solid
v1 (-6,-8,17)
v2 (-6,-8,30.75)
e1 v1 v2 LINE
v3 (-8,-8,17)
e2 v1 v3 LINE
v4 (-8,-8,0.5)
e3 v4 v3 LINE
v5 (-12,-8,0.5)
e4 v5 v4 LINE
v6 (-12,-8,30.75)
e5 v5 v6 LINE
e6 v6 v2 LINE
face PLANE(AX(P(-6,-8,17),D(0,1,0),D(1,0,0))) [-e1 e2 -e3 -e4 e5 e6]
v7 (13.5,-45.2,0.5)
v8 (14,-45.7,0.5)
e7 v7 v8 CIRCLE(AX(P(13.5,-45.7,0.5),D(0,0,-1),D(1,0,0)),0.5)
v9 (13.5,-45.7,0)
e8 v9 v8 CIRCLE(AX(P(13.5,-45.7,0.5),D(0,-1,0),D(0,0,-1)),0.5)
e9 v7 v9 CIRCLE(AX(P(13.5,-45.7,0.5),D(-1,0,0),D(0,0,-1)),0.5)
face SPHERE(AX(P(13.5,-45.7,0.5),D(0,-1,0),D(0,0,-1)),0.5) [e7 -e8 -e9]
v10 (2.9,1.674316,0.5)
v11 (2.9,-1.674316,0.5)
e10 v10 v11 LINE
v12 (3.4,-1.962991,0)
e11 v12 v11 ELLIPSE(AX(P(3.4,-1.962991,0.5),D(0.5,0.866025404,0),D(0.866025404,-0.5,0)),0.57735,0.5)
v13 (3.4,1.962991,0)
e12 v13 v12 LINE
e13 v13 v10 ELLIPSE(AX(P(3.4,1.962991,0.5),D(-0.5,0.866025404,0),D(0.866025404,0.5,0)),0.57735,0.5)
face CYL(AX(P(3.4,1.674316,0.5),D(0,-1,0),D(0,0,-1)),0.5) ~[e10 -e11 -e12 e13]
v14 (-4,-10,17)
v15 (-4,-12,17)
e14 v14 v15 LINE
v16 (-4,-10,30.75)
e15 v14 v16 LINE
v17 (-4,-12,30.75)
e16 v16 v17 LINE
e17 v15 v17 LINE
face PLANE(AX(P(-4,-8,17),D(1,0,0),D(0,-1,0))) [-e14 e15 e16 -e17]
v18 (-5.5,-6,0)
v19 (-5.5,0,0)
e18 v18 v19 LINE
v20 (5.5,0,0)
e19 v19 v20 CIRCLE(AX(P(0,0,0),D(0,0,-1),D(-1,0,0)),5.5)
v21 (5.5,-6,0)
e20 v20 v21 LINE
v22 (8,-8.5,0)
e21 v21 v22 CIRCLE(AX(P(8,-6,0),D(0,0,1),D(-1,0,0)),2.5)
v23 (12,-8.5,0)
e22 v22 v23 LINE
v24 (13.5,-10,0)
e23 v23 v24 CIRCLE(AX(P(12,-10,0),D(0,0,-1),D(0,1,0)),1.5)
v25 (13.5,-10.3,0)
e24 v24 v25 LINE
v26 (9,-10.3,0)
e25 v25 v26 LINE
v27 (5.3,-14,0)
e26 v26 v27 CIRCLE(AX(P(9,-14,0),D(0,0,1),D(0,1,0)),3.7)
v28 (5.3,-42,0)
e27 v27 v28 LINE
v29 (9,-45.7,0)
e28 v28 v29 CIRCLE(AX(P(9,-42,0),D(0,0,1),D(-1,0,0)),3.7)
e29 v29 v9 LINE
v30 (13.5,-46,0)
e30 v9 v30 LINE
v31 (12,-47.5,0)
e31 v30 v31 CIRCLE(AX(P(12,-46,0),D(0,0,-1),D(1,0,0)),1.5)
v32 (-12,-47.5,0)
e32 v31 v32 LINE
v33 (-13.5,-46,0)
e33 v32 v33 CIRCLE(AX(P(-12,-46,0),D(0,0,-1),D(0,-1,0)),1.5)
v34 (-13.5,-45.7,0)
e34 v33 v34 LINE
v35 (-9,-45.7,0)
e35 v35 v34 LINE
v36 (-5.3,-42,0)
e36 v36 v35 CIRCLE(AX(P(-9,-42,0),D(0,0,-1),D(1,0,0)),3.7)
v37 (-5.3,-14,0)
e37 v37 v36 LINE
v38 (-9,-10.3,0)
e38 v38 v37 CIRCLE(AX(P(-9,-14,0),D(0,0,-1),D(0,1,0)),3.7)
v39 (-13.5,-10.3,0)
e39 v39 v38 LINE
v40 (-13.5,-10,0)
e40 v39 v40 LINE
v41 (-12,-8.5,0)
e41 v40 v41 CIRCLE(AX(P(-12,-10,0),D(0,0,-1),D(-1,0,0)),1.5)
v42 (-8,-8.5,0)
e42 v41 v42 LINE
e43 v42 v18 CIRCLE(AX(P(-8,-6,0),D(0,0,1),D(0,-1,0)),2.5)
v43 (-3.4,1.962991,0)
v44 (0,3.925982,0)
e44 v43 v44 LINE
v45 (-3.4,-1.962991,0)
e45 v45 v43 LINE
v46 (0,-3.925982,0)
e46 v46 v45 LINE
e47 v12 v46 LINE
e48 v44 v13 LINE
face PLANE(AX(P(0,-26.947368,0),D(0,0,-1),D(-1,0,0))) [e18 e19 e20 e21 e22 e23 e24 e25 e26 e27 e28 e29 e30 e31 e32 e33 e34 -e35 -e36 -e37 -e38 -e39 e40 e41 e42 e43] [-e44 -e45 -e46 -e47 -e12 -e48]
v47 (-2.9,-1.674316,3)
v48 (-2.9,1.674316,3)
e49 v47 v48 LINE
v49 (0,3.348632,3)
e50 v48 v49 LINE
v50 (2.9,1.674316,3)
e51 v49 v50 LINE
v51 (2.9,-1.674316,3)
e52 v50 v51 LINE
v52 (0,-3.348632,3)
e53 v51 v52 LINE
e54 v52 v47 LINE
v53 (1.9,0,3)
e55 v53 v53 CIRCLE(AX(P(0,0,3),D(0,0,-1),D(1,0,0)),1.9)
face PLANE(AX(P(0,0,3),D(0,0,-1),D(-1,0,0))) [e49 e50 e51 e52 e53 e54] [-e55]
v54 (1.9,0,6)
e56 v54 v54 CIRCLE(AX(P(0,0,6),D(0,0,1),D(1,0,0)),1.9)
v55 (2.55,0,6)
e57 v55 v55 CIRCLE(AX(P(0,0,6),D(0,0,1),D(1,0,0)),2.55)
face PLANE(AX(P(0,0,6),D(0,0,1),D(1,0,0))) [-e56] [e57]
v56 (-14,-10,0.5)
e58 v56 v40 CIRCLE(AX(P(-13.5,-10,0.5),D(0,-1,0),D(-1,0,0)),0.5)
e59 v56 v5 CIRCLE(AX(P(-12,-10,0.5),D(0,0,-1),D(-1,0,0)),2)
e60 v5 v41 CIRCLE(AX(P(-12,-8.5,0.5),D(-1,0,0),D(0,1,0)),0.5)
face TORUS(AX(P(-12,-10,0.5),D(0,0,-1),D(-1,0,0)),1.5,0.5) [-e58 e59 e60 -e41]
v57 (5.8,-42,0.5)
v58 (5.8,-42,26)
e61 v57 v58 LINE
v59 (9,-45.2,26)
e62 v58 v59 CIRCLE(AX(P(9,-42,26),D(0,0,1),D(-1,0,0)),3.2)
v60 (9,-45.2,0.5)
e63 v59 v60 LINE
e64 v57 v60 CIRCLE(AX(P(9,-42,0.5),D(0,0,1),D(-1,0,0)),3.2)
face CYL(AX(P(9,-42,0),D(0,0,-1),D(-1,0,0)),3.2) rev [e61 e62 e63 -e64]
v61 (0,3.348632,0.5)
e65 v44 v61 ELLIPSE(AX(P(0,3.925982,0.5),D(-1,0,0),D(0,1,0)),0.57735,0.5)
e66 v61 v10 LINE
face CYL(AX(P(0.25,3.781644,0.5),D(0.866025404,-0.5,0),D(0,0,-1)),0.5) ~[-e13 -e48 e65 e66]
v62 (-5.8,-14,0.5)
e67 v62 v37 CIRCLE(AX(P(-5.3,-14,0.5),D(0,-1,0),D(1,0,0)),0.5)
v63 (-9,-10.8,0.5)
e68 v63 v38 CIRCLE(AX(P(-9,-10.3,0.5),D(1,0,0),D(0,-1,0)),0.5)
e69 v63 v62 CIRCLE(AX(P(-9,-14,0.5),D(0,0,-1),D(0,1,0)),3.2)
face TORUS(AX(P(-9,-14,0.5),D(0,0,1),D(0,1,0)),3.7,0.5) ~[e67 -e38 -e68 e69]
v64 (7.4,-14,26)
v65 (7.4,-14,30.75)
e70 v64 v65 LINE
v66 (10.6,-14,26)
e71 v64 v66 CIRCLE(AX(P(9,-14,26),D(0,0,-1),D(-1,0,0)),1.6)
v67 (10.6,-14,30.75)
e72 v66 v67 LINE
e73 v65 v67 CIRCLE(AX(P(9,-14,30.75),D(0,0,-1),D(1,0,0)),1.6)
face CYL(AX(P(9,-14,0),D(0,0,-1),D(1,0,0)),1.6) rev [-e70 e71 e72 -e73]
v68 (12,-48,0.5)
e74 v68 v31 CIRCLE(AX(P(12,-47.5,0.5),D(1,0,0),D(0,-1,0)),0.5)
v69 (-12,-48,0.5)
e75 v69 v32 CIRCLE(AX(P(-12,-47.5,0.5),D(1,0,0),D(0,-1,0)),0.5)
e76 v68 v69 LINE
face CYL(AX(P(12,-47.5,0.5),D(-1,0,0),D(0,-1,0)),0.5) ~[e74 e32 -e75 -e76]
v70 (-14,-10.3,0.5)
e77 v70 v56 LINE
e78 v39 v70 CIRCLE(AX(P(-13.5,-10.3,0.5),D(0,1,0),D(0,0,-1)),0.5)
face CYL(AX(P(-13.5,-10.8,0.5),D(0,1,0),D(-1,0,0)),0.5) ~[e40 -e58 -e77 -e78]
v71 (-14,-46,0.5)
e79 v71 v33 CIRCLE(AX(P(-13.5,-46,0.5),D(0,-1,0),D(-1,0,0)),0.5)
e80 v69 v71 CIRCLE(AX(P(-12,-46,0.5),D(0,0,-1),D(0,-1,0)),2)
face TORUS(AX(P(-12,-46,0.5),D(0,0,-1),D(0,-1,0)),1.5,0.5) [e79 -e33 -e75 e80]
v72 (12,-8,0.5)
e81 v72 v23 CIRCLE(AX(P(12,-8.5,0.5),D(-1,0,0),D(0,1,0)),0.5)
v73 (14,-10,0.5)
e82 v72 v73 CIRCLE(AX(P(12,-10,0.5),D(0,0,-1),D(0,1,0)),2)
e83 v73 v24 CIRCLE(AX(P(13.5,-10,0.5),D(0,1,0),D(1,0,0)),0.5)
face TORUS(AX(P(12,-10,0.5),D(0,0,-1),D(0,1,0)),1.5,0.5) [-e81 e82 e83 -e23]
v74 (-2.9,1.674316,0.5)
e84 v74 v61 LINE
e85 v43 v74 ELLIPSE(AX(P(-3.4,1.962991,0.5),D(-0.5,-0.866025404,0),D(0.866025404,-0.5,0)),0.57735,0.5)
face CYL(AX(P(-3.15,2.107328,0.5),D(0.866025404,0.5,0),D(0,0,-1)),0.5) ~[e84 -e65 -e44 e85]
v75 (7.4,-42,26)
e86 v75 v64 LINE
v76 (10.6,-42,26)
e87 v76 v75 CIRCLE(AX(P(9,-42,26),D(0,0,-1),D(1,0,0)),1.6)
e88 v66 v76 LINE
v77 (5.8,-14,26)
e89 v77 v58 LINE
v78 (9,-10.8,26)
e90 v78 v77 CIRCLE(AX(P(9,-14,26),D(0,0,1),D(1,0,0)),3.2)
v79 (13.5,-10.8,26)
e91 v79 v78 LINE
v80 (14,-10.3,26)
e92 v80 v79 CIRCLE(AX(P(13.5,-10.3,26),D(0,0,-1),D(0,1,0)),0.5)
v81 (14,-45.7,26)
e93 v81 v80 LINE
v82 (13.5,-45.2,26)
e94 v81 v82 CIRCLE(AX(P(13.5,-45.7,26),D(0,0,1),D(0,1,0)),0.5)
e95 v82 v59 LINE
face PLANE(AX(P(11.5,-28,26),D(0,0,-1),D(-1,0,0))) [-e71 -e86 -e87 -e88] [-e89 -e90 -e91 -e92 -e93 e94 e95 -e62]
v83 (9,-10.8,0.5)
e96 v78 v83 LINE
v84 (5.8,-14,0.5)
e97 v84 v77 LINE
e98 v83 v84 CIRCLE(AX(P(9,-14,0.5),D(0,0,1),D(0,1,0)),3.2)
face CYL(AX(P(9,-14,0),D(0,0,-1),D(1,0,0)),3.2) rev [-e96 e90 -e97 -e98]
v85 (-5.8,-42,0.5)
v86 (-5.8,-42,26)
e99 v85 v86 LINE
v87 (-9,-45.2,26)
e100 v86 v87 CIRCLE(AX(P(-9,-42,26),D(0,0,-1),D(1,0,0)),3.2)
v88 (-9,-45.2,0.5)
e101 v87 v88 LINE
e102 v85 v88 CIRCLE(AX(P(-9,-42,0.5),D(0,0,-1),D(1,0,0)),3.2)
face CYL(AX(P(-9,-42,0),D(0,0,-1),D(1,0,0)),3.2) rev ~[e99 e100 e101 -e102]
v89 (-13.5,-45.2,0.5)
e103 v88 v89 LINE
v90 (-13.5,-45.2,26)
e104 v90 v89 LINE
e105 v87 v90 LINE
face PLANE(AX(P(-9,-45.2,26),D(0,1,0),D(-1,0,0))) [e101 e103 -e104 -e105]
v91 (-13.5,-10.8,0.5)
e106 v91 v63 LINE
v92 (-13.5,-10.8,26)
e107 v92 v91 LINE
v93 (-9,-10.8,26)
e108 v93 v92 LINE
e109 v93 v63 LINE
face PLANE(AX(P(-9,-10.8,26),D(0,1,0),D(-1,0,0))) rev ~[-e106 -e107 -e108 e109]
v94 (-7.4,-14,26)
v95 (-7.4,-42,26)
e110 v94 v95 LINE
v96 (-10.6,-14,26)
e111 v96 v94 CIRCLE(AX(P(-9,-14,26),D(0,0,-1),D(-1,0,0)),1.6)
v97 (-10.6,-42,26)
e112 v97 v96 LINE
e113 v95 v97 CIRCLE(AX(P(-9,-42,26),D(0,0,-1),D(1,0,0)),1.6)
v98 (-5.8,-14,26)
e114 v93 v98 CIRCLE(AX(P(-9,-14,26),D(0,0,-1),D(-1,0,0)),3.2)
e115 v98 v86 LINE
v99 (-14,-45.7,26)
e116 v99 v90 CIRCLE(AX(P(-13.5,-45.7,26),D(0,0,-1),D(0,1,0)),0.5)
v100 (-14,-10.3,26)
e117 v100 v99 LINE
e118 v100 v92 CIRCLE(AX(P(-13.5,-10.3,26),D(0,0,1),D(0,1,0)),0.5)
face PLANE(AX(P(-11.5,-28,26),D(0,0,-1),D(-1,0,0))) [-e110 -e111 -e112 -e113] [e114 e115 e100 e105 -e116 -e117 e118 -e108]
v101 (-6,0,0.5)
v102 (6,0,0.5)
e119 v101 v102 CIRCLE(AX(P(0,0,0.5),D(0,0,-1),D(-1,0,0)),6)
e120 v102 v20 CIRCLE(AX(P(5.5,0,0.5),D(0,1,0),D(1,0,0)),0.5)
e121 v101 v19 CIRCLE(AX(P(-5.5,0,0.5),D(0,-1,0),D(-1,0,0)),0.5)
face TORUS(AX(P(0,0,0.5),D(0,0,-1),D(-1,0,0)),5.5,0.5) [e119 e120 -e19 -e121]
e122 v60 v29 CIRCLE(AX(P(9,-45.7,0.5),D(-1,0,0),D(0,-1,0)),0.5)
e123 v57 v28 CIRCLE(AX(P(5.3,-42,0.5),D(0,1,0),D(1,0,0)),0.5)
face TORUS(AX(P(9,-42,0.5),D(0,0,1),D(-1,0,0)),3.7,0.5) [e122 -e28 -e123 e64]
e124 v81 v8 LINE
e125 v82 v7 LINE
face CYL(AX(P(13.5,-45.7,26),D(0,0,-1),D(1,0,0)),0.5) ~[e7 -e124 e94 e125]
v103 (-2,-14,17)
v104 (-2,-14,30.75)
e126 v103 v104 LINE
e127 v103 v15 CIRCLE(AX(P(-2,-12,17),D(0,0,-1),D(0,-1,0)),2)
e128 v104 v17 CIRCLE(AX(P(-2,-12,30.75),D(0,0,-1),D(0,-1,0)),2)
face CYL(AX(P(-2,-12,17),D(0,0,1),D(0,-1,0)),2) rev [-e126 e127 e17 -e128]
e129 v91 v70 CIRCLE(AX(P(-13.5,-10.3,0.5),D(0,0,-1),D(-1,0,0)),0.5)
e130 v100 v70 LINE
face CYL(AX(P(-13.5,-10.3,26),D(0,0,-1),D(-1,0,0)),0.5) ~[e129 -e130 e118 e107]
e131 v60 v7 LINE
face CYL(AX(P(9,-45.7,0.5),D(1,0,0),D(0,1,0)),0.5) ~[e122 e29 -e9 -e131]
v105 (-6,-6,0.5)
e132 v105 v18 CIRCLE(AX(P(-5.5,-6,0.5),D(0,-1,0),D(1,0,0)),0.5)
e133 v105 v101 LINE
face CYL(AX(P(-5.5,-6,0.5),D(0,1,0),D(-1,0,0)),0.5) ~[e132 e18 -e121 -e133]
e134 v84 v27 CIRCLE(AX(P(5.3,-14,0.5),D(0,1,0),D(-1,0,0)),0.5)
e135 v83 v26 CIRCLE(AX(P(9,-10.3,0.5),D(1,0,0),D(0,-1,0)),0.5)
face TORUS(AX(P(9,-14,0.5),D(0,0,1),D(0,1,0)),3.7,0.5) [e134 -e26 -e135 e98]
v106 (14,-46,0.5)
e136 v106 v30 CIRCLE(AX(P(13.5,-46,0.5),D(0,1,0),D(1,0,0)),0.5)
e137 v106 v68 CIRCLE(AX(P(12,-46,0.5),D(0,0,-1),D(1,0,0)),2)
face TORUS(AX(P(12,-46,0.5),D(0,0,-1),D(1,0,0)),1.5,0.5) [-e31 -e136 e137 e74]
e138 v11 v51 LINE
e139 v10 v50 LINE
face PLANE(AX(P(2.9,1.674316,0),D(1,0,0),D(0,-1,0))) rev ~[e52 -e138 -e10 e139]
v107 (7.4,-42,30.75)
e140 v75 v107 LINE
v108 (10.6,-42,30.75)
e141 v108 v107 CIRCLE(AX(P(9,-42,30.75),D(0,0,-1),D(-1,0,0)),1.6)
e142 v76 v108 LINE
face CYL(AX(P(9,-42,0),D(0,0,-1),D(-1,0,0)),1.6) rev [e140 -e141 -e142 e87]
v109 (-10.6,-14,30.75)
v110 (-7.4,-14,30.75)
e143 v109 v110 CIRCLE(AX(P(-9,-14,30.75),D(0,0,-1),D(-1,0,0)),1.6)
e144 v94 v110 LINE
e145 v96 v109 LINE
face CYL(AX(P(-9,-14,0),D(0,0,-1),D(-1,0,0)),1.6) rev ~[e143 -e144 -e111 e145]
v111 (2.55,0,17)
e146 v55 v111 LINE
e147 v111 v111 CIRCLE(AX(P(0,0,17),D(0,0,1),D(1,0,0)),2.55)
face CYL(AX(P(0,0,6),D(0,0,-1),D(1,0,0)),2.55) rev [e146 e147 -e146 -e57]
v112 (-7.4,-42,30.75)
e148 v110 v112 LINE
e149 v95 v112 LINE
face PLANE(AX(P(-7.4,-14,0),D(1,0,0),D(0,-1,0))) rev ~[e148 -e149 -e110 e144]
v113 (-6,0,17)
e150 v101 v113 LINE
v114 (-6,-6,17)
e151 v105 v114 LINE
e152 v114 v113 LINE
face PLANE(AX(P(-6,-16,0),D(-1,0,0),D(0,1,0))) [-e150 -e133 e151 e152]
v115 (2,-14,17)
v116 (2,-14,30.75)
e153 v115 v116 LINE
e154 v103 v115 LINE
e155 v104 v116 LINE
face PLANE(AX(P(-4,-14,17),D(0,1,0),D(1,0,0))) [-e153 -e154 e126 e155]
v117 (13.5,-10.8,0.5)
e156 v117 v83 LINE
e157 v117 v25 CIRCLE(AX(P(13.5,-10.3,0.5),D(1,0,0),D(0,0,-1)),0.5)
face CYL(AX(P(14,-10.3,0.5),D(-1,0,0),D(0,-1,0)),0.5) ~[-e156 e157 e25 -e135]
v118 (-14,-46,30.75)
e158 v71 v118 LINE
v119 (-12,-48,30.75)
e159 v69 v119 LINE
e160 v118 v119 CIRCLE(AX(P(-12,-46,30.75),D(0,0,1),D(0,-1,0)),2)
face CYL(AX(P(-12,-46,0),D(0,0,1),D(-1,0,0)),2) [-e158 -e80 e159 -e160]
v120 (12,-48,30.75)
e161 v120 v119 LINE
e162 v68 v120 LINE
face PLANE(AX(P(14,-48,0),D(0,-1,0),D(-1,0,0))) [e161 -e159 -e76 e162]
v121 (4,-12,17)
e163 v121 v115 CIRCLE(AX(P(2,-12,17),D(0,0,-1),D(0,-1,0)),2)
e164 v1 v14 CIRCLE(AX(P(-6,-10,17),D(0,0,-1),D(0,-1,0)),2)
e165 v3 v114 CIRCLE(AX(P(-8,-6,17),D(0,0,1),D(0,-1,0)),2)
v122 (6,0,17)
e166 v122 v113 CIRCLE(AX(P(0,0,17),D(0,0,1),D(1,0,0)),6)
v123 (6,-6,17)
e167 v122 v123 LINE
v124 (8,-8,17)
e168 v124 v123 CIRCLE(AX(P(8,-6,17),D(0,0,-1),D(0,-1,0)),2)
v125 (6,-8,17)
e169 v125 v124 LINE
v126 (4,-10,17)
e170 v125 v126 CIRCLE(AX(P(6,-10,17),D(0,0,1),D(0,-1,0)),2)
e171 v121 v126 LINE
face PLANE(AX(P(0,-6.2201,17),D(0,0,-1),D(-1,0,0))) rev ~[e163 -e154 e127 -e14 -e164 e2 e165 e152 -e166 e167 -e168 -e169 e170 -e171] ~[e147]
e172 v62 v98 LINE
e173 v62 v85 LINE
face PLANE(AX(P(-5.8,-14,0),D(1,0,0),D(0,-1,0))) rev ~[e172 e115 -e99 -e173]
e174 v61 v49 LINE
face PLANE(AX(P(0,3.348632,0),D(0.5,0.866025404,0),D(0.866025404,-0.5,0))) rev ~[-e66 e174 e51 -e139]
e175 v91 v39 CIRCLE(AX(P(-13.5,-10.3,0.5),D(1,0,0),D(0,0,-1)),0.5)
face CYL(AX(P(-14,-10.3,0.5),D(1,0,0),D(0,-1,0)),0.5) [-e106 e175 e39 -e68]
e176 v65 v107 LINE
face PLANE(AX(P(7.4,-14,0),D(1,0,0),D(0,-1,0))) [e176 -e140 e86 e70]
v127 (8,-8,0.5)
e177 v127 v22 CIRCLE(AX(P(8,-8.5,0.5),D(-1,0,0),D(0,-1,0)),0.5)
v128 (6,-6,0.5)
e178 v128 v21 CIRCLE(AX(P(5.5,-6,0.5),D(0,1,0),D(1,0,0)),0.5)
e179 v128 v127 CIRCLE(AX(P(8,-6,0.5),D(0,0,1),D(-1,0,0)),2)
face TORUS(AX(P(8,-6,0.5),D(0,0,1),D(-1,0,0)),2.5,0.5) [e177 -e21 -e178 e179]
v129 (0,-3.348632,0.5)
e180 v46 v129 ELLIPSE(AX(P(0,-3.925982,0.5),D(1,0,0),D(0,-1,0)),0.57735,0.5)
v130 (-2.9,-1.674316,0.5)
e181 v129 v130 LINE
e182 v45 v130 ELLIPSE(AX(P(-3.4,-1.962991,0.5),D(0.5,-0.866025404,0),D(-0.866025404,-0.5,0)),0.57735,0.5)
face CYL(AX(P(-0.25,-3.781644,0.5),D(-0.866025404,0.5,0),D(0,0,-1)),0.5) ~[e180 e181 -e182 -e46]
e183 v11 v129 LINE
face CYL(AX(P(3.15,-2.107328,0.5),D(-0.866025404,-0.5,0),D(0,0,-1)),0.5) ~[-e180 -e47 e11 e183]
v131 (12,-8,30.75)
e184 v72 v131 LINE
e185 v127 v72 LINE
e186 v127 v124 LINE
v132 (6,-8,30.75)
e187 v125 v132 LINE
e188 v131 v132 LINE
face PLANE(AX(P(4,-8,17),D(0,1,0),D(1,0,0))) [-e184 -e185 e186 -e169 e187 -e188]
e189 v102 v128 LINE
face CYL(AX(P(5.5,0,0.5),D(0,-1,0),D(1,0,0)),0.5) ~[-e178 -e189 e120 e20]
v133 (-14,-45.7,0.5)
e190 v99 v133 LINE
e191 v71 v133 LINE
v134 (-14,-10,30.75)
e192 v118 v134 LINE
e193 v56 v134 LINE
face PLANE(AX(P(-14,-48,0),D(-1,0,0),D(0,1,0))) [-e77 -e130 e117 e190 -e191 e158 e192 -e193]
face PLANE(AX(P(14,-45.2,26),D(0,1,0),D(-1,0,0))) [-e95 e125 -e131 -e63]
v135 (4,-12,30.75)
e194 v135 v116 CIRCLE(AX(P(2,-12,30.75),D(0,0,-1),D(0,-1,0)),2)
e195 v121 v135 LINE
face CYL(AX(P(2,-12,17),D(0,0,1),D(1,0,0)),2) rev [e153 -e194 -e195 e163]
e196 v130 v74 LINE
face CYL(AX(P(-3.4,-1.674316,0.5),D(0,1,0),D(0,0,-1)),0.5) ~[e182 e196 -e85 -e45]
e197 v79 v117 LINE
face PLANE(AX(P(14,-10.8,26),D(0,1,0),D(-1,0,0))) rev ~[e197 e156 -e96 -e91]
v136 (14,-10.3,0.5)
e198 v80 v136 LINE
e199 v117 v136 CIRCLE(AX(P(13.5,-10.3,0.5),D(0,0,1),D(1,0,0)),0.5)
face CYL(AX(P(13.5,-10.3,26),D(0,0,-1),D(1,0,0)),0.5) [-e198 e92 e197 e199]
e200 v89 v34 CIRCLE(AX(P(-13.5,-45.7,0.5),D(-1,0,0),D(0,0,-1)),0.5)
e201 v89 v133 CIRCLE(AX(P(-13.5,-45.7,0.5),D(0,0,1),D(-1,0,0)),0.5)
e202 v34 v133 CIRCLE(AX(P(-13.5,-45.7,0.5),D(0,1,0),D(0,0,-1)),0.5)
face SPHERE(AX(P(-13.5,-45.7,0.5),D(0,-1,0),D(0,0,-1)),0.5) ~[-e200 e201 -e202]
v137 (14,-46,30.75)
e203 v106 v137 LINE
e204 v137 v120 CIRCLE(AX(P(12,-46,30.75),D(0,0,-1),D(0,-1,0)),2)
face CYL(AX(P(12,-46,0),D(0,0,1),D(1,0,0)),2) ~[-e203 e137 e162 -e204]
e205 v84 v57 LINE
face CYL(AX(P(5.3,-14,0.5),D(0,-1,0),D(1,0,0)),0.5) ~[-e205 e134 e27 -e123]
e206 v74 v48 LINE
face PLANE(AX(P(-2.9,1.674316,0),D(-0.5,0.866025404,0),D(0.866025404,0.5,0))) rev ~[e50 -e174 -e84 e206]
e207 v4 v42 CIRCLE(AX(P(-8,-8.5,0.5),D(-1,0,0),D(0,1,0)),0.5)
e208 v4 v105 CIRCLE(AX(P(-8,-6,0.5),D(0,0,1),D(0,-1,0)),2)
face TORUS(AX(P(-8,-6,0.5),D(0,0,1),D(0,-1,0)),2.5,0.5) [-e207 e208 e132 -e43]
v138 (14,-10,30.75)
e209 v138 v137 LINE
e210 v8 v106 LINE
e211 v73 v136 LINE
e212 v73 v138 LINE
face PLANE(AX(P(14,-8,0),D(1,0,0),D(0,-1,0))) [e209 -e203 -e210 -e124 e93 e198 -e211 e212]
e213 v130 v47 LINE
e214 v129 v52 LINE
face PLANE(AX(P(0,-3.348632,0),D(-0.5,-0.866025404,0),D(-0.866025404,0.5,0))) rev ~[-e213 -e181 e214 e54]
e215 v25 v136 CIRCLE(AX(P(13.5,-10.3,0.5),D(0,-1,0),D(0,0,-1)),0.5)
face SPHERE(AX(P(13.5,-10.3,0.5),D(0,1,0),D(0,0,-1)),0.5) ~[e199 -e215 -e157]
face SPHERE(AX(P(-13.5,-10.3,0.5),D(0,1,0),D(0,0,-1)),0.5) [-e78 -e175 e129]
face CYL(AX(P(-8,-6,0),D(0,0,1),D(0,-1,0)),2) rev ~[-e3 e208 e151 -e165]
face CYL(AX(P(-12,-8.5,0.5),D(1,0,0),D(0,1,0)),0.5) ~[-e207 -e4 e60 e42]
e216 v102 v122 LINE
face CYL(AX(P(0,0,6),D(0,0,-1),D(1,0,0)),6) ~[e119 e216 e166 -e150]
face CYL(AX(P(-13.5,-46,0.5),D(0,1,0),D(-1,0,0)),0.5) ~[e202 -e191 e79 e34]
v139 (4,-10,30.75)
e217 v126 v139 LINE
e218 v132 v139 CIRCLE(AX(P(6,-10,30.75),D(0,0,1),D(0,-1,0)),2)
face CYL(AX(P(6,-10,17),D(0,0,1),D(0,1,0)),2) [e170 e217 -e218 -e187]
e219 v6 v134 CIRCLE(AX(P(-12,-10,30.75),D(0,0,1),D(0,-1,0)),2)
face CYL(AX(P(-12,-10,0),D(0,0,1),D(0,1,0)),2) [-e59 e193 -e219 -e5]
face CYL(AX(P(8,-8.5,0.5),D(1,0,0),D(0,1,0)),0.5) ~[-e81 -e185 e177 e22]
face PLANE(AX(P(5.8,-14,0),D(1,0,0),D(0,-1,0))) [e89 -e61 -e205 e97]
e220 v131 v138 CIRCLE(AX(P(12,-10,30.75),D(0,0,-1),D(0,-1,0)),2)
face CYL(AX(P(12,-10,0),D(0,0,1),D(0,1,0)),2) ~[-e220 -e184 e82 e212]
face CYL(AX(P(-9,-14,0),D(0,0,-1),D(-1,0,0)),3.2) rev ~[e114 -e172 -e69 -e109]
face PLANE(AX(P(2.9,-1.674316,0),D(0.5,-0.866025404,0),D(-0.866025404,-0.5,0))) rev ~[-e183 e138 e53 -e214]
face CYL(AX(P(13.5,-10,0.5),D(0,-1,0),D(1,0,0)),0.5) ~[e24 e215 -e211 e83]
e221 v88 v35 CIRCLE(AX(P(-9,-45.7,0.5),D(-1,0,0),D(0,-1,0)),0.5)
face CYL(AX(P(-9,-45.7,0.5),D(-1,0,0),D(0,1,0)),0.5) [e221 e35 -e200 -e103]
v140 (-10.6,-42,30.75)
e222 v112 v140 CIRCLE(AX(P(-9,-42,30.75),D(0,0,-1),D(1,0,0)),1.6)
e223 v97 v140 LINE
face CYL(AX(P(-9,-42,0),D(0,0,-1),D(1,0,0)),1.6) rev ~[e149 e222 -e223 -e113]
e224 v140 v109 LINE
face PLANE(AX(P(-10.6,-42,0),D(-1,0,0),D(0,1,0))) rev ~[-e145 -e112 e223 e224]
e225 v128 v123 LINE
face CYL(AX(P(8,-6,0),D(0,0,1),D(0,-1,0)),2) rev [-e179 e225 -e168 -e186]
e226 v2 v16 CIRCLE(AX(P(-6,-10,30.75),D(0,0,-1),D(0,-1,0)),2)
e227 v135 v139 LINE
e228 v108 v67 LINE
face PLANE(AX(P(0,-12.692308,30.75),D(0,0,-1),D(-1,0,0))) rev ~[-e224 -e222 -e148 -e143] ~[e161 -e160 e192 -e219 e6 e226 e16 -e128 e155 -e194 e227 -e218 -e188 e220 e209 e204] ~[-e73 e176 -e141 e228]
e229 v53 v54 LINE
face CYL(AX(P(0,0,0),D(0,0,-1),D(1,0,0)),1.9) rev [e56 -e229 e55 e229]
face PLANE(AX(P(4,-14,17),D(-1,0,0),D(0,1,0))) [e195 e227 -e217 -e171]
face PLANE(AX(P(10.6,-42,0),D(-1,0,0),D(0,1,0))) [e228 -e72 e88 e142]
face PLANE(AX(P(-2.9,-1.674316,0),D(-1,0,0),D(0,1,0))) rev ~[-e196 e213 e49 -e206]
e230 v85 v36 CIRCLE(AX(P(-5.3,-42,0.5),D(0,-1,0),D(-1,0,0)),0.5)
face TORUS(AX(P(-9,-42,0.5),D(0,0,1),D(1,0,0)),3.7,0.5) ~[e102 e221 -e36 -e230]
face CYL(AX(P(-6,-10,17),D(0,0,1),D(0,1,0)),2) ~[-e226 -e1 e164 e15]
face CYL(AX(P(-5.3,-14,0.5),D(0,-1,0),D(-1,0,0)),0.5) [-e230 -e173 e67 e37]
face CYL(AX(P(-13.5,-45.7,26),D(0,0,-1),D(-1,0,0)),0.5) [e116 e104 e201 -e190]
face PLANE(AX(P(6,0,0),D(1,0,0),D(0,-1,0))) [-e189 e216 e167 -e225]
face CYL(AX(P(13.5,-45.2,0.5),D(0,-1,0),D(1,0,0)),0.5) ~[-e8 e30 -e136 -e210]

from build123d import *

# Parameters (mm, degrees)
SKETCH1_R               = 6
SKETCH1_R_2             = 1.9
BOSS_EXTRUDE1_DEPTH     = 6
SKETCH2_R               = 6
SKETCH2_R_2             = 2.55
BOSS_EXTRUDE2_DEPTH     = 11
SKETCH3_R               = 2.55
BOSS_EXTRUDE3_DEPTH     = 17
BOSS_EXTRUDE4_DEPTH     = 30.75
BOSS_EXTRUDE6_DEPTH     = 13.75
CUT_EXTRUDE1_DEPTH      = 26
CUT_EXTRUDE2_DEPTH      = 59.698913959
FILLET1_R               = 2
FILLET2_R               = 2
CUT_EXTRUDE3_DEPTH      = 3
CUT_EXTRUDE4_DEPTH      = 59.698913959
CUT_EXTRUDE4_DEPTH_BACK = 26
SKETCH12_W              = 5
SKETCH12_H              = 34.4
FILLET3_R               = 0.5


with BuildPart() as part:
    # Sketch1 → Boss-Extrude1 (new body)
    with BuildSketch(Plane.XY):
        Circle(SKETCH1_R)
        Circle(SKETCH1_R_2, mode=Mode.SUBTRACT)
    extrude(amount=BOSS_EXTRUDE1_DEPTH)

    # Sketch2 → Boss-Extrude2 (add)
    with BuildSketch(Plane.XY.offset(6)):
        Circle(SKETCH2_R)
        Circle(SKETCH2_R_2, mode=Mode.SUBTRACT)
    extrude(amount=BOSS_EXTRUDE2_DEPTH)

    # Sketch3 → Boss-Extrude3 (add)
    with BuildSketch(Plane(origin=(0, 0, 0), x_dir=(-1, 0, 0), z_dir=(0, 0, -1))):
        with BuildLine():
            Line((-6, 0), (-6, -16))
            Line((-6, -16), (6, -16))
            Line((6, -16), (6, 0))
            ThreePointArc((6, 0), (0, 6), (-6, 0))
        make_face()
        with Locations(Location((0, 0, 0), (0, 0, 180))):
            Circle(SKETCH3_R, mode=Mode.SUBTRACT)
    extrude(amount=-BOSS_EXTRUDE3_DEPTH)

    # Sketch4 → Boss-Extrude4 (add)
    with BuildSketch(Plane(origin=(0, 0, 0), x_dir=(-1, 0, 0), z_dir=(0, 0, -1))):
        Polygon((-6, -16), (-6, -8), (-14, -8), (-14, -48), (14, -48), (14, -8), (6, -8), (6, -16), align=None)
    extrude(amount=-BOSS_EXTRUDE4_DEPTH)

    # Sketch9 → Boss-Extrude6 (add)
    with BuildSketch(Plane.XY.offset(17)):
        Polygon((-6, -8), (-4, -8), (-4, -14), (4, -14), (4, -8), (6, -8), (6, -16), (-6, -16), align=None)
    extrude(amount=BOSS_EXTRUDE6_DEPTH)

    # Sketch5 → Cut-Extrude1 (cut)
    with BuildSketch(Plane(origin=(0, 0, 0), x_dir=(-1, 0, 0), z_dir=(0, 0, -1))):
        with BuildLine():
            Line((-5.8, -14), (-5.8, -42))
            ThreePointArc((-5.8, -42), (-9, -45.2), (-12.2, -42))
            Line((-12.2, -42), (-12.2, -14))
            ThreePointArc((-12.2, -14), (-9, -10.8), (-5.8, -14))
        make_face()
        with BuildLine():
            Line((5.8, -14), (5.8, -42))
            ThreePointArc((5.8, -42), (9, -45.2), (12.2, -42))
            Line((12.2, -42), (12.2, -14))
            ThreePointArc((12.2, -14), (9, -10.8), (5.8, -14))
        make_face()
    extrude(amount=-CUT_EXTRUDE1_DEPTH, mode=Mode.SUBTRACT)

    # Sketch7 → Cut-Extrude2 (cut, through all)
    with BuildSketch(Plane(origin=(0, 0, 0), x_dir=(-1, 0, 0), z_dir=(0, 0, -1))):
        with BuildLine():
            Line((-7.4, -14), (-7.4, -42))
            ThreePointArc((-7.4, -42), (-9, -43.6), (-10.6, -42))
            Line((-10.6, -42), (-10.6, -14))
            ThreePointArc((-10.6, -14), (-9, -12.4), (-7.4, -14))
        make_face()
        with BuildLine():
            Line((7.4, -14), (7.4, -42))
            ThreePointArc((7.4, -42), (9, -43.6), (10.6, -42))
            Line((10.6, -42), (10.6, -14))
            ThreePointArc((10.6, -14), (9, -12.4), (7.4, -14))
        make_face()
    extrude(amount=-CUT_EXTRUDE2_DEPTH, mode=Mode.SUBTRACT)

    # Fillet1
    fillet1_edges = [part.edges().sort_by_distance(p)[0] for p in [
        (6, -8, 8.5),
        (-6, -8, 8.5),
        (-14, -8, 15.375),
        (-14, -48, 15.375),
        (14, -48, 15.375),
        (14, -8, 15.375),
    ]]
    fillet(fillet1_edges, radius=FILLET1_R)

    # Fillet2
    fillet2_edges = [part.edges().sort_by_distance(p)[0] for p in [
        (-4, -8, 23.875),
        (-4, -14, 23.875),
        (4, -14, 23.875),
        (4, -8, 23.875),
    ]]
    fillet(fillet2_edges, radius=FILLET2_R)

    # Sketch10 → Cut-Extrude3 (cut)
    with BuildSketch(Plane(origin=(0, 0, 0), x_dir=(-1, 0, 0), z_dir=(0, 0, -1))):
        Polygon((0, 3.348631561), (-2.9, 1.674315781), (-2.9, -1.674315781), (0, -3.348631561), (2.9, -1.674315781), (2.9, 1.674315781), align=None)
    extrude(amount=-CUT_EXTRUDE3_DEPTH, mode=Mode.SUBTRACT)

    # Sketch12 → Cut-Extrude4 (cut, two sides: drawn at the far end of the back side and taken through both)
    with BuildSketch(Plane(origin=(0, 0, 0), x_dir=(-1, 0, 0), z_dir=(0, 0, -1)).offset(-CUT_EXTRUDE4_DEPTH_BACK)):
        with Locations((-11.5, -28)):
            Rectangle(SKETCH12_W, SKETCH12_H)
        with Locations((11.5, -28)):
            Rectangle(SKETCH12_W, SKETCH12_H)
    extrude(amount=CUT_EXTRUDE4_DEPTH + CUT_EXTRUDE4_DEPTH_BACK, mode=Mode.SUBTRACT)

    # Fillet3
    fillet3_edges = [part.edges().sort_by_distance(p)[0] for p in [
        (10, -8, 0),
        (-10, -8, 0),
        (-6, -3, 0),
        (0, -48, 0),
        (14, -10.4, 0),
        (-14, -45.6, 0),
        (13.414213562, -8.585786438, 0),
        (13.414213562, -47.414213562, 0),
        (-13.414213562, -8.585786438, 0),
        (-13.414213562, -47.414213562, 0),
        (6.585786438, -7.414213562, 0),
        (-6.585786438, -7.414213562, 0),
        (0, 6, 0),
        (6, -3, 0),
        (-1.45, 2.511473671, 0),
        (1.45, 2.511473671, 0),
        (2.9, 0, 0),
        (1.45, -2.511473671, 0),
        (-1.45, -2.511473671, 0),
        (-2.9, 0, 0),
        (6.7372583, -44.2627417, 0),
        (-6.7372583, -11.7372583, 0),
        (14, -45.6, 0),
        (-14, -10.4, 0),
        (14, -45.2, 13),
        (11.5, -45.2, 0),
        (14, -10.8, 13),
        (11.5, -10.8, 0),
        (-14, -10.8, 13),
        (-11.5, -10.8, 0),
        (-14, -45.2, 13),
        (-11.5, -45.2, 0),
        (6.7372583, -11.7372583, 0),
        (5.8, -28, 0),
        (-5.8, -28, 0),
        (-6.7372583, -44.2627417, 0),
    ]]
    fillet(fillet3_edges, radius=FILLET3_R)


solid = part.part
